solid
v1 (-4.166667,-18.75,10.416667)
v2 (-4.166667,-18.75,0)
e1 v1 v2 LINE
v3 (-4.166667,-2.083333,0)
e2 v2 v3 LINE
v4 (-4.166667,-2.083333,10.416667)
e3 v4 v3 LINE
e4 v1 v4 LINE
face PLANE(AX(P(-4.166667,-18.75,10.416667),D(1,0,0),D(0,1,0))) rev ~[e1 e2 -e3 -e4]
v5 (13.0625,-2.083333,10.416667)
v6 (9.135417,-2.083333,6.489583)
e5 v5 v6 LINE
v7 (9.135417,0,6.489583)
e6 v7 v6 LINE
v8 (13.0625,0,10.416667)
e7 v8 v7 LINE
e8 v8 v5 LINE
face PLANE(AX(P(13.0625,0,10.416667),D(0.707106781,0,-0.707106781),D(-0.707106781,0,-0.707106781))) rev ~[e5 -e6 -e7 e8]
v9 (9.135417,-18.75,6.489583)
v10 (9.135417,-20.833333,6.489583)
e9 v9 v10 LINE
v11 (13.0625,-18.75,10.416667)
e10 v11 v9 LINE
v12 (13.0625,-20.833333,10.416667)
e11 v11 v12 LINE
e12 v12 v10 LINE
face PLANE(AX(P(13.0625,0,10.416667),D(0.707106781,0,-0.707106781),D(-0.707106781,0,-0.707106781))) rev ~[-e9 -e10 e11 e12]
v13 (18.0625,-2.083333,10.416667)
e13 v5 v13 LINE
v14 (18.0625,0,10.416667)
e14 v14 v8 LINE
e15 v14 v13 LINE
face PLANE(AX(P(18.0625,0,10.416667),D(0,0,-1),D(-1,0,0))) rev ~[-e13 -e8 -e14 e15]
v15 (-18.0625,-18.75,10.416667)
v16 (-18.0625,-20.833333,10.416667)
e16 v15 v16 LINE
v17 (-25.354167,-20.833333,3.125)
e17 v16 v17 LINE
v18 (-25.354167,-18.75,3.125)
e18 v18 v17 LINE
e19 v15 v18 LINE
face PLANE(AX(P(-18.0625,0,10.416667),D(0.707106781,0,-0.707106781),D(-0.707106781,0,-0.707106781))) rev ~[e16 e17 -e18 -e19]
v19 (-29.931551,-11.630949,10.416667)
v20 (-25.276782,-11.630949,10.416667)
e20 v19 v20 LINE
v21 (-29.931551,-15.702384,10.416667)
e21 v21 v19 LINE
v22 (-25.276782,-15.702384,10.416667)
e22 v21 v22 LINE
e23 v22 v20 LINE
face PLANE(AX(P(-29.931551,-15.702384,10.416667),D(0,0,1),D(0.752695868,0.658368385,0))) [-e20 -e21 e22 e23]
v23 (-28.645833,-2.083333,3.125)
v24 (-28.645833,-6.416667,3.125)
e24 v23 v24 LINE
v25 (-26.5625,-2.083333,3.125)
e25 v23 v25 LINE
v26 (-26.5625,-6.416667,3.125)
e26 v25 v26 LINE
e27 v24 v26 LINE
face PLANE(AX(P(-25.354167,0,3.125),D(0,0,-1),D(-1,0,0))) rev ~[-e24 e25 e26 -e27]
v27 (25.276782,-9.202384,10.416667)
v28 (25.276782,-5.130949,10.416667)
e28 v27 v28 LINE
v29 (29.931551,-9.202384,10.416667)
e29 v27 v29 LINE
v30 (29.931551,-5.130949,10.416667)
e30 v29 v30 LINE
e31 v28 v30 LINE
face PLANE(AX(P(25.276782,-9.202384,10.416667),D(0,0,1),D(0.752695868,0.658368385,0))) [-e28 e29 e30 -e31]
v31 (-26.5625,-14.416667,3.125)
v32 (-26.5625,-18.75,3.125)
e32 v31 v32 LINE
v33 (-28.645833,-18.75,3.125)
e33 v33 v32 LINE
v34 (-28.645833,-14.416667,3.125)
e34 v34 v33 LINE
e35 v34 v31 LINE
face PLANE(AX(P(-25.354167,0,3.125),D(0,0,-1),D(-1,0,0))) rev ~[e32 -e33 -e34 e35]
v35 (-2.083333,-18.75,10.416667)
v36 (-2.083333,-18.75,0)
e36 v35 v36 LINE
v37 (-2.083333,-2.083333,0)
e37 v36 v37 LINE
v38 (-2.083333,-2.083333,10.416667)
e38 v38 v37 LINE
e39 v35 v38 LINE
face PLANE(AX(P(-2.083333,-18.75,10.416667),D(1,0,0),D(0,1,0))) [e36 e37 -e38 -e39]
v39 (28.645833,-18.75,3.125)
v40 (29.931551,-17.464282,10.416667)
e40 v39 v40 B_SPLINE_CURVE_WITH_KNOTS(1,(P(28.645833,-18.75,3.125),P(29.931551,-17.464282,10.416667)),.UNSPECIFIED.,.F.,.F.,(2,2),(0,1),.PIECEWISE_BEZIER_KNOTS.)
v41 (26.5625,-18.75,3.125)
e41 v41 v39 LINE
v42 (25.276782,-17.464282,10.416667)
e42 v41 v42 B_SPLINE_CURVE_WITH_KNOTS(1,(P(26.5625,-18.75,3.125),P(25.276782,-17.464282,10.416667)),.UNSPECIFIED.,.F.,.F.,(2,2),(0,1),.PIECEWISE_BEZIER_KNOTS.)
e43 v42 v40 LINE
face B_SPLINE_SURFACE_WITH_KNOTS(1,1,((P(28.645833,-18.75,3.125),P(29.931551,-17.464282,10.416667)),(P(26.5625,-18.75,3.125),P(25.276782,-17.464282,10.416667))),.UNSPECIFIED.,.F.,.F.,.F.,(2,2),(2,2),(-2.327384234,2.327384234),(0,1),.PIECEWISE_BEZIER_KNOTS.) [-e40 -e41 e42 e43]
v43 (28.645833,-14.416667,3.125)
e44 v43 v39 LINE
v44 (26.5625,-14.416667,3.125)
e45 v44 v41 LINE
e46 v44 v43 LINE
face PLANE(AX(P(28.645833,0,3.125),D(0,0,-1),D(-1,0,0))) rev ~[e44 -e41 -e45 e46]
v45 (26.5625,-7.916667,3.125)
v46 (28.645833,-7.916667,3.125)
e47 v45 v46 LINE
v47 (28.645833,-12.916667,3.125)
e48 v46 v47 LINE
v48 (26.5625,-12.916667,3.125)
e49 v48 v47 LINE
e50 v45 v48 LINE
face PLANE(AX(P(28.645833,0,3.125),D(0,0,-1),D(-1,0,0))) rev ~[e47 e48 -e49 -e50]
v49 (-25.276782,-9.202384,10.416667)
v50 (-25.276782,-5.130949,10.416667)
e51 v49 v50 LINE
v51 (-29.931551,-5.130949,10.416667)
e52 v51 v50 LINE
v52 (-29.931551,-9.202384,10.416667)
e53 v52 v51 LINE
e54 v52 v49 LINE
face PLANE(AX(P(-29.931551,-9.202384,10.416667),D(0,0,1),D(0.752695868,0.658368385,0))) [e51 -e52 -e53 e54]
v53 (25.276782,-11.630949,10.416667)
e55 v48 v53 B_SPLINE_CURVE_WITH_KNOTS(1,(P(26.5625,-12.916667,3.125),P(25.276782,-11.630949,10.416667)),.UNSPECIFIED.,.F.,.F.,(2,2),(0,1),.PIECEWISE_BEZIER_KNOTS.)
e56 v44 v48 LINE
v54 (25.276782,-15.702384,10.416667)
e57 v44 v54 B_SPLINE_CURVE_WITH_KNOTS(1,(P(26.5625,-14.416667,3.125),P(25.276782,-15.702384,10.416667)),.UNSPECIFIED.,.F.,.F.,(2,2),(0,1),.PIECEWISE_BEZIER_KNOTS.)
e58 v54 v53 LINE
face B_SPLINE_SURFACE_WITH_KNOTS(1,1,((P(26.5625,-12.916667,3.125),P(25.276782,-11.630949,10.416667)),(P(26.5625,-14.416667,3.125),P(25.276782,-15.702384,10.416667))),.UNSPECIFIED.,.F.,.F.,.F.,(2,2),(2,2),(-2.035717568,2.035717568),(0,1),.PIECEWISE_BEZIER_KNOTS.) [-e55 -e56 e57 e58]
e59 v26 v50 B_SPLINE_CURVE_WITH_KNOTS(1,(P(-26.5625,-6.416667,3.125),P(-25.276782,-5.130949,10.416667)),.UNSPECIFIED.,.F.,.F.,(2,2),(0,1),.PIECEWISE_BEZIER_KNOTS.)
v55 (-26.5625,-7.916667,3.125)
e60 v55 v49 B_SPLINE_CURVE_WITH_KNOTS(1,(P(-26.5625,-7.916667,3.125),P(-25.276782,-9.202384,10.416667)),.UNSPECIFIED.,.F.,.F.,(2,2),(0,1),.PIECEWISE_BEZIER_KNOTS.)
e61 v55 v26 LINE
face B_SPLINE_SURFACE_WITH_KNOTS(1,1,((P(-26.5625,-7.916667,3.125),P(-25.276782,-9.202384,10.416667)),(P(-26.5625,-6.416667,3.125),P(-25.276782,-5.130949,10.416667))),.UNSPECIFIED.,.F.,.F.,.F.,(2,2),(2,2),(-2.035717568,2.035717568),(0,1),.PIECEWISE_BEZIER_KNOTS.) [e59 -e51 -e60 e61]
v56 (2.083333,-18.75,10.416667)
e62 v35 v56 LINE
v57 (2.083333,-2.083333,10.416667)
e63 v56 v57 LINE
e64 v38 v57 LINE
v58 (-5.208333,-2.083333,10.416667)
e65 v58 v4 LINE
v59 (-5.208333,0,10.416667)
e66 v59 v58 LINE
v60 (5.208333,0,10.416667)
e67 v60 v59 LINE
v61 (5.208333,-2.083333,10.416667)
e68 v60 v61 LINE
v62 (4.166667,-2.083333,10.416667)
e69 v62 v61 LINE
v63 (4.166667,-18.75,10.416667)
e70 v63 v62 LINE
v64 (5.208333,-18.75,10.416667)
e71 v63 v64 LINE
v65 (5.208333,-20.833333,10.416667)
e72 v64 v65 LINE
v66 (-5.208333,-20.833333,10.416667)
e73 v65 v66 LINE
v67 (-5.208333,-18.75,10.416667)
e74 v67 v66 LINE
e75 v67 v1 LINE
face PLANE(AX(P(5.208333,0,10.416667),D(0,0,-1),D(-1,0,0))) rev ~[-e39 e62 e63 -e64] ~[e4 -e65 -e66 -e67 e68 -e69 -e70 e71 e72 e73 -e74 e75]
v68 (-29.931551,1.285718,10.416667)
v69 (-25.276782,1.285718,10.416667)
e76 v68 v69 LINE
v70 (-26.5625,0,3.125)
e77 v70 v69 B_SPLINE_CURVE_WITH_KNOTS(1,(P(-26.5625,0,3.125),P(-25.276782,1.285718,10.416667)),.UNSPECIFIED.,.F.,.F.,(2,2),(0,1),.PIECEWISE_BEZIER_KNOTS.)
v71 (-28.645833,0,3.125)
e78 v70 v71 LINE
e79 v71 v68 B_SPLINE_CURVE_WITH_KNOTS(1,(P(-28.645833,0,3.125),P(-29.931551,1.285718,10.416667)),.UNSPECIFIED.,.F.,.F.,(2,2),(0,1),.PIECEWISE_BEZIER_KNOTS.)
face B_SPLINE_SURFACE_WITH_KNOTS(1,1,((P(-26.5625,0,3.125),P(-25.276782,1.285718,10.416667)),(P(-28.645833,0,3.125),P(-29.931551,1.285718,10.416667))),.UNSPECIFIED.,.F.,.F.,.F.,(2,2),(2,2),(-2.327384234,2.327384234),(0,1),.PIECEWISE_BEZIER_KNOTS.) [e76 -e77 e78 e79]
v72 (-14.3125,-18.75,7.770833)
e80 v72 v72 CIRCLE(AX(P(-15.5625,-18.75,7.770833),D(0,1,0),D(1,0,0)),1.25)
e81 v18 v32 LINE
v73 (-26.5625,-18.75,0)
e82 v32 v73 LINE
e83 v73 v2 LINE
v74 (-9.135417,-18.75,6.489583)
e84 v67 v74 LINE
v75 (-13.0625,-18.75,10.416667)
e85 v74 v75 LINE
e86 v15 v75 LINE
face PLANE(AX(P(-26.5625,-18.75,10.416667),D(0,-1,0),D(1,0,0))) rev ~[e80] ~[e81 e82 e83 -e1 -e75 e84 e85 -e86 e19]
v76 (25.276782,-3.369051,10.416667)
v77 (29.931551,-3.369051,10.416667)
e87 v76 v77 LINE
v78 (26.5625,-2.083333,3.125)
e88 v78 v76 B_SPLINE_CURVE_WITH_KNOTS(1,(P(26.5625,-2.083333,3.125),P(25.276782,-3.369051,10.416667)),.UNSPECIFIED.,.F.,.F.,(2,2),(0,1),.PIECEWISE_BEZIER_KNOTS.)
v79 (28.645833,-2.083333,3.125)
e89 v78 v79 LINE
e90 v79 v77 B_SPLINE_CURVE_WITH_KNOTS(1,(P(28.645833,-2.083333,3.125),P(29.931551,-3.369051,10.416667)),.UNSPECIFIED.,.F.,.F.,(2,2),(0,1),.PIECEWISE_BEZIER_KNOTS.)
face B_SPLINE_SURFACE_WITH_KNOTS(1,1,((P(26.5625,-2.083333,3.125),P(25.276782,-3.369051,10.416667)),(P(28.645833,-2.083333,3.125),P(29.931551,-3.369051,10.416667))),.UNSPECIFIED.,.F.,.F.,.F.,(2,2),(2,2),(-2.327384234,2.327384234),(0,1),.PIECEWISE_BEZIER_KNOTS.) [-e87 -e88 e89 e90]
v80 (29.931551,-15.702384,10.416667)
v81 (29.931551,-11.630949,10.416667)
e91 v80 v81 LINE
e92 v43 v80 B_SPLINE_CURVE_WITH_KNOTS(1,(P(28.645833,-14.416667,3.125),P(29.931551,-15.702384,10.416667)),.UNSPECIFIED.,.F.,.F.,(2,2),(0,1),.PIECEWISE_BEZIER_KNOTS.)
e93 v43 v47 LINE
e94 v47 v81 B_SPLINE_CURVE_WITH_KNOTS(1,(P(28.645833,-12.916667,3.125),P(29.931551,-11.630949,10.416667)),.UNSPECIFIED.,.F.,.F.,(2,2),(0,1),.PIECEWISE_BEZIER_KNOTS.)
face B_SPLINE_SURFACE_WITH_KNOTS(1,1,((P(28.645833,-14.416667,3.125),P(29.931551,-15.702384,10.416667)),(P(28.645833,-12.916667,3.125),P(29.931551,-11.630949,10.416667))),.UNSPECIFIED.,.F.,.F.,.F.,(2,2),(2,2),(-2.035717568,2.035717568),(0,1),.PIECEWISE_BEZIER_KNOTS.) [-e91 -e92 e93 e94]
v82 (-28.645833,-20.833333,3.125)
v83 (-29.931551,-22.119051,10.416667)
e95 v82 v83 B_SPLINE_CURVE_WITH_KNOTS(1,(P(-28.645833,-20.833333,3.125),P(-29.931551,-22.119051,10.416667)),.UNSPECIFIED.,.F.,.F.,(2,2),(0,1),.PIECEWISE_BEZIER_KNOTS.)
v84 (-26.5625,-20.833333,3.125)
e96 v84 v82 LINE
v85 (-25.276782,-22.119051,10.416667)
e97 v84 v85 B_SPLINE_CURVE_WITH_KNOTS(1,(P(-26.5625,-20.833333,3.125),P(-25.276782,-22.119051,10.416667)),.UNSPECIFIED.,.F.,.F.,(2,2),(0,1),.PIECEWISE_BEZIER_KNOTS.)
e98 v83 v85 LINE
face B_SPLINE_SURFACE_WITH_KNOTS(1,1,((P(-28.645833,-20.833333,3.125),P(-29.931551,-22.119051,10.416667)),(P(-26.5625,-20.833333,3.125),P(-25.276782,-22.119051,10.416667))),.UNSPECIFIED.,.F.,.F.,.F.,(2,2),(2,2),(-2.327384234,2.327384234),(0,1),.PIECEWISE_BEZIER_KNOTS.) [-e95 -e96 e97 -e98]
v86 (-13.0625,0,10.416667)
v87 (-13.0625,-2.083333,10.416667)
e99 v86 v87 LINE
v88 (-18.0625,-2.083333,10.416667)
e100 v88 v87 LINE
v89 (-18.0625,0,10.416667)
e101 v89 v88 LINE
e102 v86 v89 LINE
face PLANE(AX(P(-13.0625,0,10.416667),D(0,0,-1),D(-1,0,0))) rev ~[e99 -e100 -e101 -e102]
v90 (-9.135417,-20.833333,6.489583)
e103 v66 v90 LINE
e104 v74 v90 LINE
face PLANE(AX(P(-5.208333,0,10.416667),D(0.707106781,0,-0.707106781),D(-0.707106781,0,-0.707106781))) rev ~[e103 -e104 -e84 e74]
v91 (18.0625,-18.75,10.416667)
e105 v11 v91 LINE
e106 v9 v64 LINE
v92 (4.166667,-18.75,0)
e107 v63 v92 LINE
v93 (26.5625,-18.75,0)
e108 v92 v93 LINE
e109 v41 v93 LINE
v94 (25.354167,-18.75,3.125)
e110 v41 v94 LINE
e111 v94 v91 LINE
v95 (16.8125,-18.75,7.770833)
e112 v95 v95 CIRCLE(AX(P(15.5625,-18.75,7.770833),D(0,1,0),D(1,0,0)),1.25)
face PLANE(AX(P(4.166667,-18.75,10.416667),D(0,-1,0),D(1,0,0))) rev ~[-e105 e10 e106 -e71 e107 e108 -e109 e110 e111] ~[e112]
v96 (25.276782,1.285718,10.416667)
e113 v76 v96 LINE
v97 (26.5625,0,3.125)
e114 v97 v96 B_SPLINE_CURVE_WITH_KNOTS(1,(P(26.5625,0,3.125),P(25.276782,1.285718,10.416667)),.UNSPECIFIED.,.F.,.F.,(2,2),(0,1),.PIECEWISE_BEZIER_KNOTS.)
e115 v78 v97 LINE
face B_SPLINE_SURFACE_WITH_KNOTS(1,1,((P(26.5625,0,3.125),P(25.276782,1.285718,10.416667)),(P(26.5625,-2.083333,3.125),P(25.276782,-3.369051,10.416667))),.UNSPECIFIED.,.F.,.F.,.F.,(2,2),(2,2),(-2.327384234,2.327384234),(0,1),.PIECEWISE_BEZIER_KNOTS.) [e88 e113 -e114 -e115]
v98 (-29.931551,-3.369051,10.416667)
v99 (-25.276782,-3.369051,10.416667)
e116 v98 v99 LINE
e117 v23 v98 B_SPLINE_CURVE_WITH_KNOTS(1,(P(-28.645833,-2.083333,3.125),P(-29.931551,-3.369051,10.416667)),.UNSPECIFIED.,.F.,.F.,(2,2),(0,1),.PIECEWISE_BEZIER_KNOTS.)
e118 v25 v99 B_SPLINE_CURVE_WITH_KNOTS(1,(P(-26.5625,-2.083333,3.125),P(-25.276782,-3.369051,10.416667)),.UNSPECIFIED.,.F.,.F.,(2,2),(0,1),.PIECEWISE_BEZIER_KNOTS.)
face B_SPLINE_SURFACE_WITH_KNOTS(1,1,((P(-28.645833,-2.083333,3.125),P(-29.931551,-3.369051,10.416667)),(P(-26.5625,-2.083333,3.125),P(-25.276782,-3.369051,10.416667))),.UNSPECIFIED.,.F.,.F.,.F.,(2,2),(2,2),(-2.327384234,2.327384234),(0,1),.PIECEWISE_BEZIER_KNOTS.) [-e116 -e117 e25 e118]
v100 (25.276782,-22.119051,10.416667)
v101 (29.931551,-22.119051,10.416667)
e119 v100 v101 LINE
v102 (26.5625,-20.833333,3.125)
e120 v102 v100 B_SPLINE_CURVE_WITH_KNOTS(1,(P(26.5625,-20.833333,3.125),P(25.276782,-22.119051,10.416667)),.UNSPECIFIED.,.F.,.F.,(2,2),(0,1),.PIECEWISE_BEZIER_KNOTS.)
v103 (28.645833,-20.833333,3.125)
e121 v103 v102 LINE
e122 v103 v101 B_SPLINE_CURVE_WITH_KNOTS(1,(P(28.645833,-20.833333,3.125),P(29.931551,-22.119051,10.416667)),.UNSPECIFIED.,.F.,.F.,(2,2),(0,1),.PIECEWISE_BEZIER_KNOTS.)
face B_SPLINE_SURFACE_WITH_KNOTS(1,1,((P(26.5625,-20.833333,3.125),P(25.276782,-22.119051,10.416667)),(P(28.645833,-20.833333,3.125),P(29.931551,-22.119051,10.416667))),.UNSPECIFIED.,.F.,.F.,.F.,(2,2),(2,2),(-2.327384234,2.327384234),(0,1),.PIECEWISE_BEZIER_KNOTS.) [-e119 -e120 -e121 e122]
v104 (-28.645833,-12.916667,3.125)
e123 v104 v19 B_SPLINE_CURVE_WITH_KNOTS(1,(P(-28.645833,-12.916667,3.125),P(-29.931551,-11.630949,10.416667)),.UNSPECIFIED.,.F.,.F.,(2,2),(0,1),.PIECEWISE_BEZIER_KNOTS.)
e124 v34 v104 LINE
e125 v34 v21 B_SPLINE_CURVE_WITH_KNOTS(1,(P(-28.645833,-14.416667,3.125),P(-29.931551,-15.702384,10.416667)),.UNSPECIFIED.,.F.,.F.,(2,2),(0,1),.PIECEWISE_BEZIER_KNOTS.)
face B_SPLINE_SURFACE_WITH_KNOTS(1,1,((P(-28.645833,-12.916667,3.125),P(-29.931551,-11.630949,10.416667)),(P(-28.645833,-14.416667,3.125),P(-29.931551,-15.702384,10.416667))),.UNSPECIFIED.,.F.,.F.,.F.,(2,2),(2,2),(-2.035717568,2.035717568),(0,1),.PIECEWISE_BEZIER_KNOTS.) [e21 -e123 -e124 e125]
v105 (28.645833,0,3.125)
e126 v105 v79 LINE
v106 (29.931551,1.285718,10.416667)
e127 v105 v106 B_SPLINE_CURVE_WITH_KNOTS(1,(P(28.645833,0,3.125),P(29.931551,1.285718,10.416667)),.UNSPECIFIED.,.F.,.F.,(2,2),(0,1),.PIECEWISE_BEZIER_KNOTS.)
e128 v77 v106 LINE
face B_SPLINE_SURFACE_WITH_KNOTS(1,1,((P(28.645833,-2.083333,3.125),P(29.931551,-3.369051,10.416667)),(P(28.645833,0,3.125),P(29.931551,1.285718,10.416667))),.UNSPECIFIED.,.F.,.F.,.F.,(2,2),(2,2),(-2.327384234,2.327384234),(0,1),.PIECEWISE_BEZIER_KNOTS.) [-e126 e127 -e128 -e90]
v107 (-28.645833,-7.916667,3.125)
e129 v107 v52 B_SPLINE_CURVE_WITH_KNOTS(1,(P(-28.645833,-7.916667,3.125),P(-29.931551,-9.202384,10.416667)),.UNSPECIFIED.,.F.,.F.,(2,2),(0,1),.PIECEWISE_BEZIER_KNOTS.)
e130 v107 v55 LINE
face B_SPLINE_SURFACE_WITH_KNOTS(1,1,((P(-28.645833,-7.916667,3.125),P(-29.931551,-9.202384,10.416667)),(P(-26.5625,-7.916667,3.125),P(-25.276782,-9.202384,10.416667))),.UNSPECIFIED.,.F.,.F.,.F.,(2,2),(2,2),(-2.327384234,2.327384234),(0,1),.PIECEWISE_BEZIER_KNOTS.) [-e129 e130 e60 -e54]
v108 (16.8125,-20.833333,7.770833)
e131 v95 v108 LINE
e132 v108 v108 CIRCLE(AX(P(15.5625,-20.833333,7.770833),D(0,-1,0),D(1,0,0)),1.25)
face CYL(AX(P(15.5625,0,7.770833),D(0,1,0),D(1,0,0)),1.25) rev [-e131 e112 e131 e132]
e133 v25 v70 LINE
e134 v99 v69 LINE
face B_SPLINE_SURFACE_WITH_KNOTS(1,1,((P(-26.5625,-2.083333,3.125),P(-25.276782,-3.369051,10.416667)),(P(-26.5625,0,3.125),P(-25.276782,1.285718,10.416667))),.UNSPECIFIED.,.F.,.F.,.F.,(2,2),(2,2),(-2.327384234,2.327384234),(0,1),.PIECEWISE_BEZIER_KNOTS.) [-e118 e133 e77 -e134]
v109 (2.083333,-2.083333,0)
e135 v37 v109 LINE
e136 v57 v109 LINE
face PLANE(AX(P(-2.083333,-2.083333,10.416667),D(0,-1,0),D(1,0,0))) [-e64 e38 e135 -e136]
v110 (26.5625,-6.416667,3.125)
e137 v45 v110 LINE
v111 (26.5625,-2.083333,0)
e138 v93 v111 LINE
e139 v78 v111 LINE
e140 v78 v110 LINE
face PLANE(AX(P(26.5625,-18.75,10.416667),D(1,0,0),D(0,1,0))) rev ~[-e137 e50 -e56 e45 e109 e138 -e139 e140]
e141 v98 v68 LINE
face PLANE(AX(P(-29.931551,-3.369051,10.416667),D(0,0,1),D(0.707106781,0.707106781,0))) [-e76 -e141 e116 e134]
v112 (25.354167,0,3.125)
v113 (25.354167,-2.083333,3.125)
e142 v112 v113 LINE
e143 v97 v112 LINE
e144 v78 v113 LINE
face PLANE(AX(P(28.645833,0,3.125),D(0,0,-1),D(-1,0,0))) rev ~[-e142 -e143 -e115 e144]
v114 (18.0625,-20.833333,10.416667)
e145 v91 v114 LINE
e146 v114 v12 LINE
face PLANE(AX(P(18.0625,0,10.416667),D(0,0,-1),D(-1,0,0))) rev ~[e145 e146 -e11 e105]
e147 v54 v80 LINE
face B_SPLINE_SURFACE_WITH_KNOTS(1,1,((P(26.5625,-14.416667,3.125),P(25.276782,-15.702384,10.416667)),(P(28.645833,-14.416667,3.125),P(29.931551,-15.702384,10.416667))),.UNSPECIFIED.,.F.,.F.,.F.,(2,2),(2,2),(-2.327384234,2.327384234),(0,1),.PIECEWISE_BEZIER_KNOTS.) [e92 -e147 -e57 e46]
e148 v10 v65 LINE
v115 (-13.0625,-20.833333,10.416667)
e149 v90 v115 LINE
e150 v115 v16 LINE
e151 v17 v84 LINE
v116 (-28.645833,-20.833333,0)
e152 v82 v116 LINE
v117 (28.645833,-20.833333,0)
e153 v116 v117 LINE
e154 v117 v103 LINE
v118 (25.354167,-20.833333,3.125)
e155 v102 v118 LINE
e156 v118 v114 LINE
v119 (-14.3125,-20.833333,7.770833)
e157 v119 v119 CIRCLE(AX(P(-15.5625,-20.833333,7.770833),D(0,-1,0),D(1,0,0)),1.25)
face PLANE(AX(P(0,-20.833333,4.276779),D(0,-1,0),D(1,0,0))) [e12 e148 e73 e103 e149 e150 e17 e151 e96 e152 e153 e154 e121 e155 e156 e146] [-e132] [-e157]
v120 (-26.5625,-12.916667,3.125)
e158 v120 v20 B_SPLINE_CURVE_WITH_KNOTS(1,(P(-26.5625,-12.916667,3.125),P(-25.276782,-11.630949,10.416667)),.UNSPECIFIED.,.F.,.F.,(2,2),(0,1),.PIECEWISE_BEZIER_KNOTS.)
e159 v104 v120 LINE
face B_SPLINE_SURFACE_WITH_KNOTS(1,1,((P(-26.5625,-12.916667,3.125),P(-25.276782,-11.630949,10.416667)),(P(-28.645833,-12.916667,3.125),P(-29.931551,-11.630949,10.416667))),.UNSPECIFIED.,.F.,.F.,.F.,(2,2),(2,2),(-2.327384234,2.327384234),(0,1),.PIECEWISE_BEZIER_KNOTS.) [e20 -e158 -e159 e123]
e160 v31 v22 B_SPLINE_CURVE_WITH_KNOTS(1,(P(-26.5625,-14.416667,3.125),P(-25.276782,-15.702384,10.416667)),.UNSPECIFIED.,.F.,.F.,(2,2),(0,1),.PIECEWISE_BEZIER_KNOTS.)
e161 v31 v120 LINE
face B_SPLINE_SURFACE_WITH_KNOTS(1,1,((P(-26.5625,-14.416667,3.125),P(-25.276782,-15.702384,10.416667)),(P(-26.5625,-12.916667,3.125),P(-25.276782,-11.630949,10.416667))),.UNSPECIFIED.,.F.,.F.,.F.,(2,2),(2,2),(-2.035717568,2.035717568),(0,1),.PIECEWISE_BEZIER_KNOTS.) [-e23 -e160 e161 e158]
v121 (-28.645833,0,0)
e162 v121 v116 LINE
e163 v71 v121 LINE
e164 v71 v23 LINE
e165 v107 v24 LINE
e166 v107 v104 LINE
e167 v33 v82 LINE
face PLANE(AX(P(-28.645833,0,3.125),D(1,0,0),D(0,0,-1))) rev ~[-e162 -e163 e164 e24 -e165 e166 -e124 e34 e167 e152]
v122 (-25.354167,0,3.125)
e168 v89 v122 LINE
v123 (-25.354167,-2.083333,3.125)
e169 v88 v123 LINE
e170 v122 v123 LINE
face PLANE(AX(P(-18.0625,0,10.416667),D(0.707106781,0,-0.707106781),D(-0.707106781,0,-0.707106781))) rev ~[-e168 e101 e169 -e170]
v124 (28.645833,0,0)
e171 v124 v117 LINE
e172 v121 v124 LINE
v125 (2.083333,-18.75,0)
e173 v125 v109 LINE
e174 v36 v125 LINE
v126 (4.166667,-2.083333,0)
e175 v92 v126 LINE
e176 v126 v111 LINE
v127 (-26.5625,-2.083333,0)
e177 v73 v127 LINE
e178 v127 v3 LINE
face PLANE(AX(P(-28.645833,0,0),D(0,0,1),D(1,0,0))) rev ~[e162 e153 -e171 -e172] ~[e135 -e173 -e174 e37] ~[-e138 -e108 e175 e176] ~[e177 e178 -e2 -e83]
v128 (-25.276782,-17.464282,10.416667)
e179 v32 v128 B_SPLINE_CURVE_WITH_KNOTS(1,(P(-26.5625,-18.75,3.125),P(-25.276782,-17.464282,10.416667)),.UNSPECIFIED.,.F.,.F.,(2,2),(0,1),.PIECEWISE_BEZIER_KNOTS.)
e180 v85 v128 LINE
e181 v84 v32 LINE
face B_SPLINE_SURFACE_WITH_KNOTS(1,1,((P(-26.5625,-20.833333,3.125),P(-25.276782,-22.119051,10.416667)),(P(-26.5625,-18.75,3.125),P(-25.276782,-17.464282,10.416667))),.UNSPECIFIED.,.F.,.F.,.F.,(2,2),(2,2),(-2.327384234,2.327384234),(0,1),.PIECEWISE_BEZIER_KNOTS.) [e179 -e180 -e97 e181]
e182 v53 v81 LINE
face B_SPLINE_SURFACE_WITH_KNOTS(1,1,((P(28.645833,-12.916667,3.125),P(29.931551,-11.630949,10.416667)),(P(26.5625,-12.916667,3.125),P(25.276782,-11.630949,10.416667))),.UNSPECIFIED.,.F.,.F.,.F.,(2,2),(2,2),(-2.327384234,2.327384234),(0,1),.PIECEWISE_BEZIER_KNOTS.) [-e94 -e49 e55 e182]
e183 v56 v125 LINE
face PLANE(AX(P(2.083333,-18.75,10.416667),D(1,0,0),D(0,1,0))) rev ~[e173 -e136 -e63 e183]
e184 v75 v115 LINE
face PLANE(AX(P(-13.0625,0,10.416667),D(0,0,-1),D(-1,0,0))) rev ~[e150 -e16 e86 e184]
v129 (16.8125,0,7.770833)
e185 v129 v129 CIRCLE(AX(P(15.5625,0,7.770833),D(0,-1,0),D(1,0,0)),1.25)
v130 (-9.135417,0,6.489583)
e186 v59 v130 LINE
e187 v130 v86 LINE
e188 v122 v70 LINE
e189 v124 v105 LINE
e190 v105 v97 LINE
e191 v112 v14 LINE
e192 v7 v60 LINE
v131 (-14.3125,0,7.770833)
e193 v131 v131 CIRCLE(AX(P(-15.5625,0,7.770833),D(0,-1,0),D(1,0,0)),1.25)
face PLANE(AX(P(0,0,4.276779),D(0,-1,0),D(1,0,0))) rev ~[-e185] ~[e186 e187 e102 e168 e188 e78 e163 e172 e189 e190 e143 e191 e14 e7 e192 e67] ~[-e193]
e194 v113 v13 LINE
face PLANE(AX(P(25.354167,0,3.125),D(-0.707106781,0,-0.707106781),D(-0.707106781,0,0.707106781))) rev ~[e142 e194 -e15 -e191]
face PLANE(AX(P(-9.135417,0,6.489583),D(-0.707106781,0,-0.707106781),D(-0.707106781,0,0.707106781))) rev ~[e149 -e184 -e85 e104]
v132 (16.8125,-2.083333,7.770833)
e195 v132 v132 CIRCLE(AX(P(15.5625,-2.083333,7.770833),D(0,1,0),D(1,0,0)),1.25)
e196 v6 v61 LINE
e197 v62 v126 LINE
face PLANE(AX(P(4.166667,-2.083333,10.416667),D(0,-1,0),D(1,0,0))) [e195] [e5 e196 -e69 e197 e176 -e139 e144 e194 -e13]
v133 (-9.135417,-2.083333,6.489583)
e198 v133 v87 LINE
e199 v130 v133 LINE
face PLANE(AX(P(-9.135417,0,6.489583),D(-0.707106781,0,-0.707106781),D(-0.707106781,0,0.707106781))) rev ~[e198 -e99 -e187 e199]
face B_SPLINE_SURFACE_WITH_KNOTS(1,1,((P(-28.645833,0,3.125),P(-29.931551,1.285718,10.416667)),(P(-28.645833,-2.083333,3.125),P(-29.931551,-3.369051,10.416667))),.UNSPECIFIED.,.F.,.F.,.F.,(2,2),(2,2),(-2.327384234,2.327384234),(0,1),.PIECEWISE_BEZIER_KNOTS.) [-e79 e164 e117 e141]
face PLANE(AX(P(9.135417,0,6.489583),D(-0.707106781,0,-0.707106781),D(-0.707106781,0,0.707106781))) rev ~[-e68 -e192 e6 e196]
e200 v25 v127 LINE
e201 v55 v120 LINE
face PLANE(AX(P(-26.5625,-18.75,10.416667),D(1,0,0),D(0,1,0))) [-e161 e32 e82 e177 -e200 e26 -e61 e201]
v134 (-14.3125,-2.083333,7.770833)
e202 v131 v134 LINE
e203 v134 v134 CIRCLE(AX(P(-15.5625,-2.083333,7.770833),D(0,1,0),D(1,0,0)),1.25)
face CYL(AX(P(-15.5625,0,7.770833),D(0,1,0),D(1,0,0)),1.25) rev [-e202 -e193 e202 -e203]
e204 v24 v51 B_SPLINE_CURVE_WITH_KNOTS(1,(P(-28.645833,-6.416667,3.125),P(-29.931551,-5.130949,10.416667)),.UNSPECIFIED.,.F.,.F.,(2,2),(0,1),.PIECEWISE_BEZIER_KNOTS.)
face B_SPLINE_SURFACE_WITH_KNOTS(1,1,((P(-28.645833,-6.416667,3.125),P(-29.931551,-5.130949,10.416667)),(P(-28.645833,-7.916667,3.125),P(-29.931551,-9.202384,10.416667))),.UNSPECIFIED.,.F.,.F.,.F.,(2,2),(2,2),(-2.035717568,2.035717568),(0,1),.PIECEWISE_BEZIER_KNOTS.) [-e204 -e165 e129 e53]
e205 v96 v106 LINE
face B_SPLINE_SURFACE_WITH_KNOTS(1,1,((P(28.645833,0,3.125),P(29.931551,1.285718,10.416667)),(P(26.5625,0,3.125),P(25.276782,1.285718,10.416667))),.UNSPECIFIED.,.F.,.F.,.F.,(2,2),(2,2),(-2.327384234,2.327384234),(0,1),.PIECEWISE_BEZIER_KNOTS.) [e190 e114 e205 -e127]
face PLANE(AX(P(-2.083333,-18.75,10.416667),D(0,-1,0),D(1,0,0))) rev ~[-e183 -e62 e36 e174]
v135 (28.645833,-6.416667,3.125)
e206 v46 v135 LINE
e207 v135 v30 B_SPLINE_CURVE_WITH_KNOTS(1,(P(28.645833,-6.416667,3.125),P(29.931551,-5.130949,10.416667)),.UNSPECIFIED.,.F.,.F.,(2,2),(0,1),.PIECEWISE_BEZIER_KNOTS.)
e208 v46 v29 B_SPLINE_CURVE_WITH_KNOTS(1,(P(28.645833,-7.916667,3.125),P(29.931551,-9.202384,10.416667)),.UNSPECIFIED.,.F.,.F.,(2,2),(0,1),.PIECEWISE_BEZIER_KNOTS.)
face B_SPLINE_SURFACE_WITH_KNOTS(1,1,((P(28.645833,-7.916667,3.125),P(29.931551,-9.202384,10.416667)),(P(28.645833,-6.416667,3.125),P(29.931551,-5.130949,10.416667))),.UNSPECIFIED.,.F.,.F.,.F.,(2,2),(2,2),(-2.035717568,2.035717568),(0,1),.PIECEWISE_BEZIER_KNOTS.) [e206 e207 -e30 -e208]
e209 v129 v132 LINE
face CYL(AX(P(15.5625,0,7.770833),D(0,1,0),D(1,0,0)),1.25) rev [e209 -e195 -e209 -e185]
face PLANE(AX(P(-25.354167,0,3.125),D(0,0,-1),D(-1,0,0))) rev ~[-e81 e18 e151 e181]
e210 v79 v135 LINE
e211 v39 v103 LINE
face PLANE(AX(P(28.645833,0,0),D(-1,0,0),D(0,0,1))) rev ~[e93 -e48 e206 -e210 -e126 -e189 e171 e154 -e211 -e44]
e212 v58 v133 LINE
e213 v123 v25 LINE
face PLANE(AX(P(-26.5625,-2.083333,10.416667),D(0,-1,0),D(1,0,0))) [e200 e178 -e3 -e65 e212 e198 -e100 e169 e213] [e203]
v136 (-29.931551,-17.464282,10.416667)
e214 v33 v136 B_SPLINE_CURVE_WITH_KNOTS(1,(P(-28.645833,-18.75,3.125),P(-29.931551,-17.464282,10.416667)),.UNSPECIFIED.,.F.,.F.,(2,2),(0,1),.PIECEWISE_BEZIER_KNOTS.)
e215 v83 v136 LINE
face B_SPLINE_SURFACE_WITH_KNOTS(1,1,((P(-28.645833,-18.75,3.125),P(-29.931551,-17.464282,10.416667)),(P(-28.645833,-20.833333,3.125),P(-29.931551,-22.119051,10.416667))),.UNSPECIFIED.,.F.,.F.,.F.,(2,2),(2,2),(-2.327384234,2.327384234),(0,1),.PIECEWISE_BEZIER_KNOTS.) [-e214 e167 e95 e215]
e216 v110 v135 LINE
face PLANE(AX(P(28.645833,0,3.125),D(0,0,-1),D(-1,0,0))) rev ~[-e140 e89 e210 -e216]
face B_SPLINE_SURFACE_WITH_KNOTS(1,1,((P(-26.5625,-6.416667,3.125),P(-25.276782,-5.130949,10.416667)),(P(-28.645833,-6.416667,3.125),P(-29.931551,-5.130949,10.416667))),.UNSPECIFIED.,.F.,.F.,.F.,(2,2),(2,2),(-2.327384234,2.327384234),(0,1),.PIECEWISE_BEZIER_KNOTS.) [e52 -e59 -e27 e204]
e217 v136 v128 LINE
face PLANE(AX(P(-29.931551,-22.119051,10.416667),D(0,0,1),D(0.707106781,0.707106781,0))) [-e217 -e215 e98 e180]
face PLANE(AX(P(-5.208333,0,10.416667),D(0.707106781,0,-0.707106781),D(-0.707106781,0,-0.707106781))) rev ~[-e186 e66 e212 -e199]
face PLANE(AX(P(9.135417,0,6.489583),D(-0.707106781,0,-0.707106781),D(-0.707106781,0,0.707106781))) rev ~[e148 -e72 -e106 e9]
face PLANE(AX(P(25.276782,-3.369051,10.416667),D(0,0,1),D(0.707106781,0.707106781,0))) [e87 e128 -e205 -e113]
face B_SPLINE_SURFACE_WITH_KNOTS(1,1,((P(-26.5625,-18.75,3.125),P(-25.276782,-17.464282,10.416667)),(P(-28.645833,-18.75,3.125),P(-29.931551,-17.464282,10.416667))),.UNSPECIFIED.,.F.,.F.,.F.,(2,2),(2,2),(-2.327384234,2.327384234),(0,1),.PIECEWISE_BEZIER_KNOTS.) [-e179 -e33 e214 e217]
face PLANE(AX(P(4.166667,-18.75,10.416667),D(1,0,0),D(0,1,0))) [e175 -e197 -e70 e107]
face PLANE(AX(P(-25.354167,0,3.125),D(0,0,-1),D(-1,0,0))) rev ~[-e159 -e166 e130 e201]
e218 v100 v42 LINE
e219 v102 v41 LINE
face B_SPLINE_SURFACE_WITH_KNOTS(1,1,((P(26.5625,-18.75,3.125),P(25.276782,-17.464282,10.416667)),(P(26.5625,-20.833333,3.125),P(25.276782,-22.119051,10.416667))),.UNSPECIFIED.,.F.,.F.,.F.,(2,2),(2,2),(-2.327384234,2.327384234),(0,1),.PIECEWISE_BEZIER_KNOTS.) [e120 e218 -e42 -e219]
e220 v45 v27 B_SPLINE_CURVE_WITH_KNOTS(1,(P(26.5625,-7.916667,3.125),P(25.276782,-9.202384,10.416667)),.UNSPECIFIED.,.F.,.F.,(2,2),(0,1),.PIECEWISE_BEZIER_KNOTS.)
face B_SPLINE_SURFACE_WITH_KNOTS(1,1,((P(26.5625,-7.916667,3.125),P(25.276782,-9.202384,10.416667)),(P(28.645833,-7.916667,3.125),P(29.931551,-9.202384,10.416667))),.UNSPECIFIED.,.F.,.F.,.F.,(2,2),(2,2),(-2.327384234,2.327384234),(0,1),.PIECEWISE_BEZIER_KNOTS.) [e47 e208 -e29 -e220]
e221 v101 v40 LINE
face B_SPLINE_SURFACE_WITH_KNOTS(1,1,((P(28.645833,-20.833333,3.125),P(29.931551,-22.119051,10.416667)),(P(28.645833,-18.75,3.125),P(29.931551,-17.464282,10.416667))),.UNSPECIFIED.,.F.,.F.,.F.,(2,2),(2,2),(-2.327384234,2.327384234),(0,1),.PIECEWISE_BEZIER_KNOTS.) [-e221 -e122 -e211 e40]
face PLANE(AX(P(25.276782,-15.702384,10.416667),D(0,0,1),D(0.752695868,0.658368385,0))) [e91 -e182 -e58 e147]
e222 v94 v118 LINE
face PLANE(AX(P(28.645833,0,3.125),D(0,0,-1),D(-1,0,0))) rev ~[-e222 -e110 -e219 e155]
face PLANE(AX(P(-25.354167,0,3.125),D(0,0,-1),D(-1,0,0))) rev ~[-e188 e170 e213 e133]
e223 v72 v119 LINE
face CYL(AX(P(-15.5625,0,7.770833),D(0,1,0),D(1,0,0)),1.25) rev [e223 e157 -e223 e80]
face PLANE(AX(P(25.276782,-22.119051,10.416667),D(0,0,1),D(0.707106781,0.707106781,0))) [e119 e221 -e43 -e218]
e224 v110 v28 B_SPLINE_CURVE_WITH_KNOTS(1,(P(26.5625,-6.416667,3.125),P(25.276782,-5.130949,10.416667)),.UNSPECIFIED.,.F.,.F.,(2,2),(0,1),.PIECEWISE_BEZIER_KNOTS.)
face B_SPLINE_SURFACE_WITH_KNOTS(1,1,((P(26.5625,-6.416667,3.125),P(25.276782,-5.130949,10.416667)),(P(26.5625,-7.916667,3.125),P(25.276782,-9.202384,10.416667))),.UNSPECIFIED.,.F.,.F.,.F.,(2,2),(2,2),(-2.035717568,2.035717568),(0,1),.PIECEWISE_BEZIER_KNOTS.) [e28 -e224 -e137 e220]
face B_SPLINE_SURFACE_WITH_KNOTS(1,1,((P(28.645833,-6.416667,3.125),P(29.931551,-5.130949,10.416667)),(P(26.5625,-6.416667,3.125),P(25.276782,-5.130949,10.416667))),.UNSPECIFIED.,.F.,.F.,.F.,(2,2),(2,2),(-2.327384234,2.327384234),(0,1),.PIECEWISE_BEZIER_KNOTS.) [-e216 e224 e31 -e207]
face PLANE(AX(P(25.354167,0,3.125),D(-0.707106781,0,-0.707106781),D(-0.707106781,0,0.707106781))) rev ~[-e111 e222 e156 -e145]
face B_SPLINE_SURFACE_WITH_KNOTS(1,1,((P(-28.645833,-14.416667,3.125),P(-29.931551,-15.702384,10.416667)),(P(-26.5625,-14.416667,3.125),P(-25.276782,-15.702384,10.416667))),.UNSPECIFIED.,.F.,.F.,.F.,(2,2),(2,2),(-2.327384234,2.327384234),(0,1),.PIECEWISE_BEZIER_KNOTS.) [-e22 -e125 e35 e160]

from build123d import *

# Parameters (mm, degrees)
F0_R     = 1.25
F1_DEPTH = 20.8333333333
F2_W     = 22.3958333333
F2_H     = 16.6666666667
F2_W_2   = 4.1666666667
F3_DEPTH = 10.4176666667
F5_W     = 2.0833333333
F5_H     = 2.0833333333
F5_H_2   = 1.5
F6_DEPTH = 7.2916666667
F6_TAPER = -10


with BuildPart() as f1:
    # F0 (on Front) → F1 (new body)
    with BuildSketch(Plane.XZ):
        Polygon((-28.6458333333, 0), (0, 0), (28.6458333333, 0), (28.6458333333, 3.125), (25.3541666667, 3.125), (18.0625, 10.4166666667), (13.0625, 10.4166666667), (9.1354166667, 6.4895833333), (5.2083333333, 10.4166666667), (0, 10.4166666667), (-5.2083333333, 10.4166666667), (-9.1354166667, 6.4895833333), (-13.0625, 10.4166666667), (-18.0625, 10.4166666667), (-25.3541666667, 3.125), (-28.6458333333, 3.125), align=None)
        with Locations((-15.5625, 7.7708333333)):
            Circle(F0_R, mode=Mode.SUBTRACT)
        with Locations((15.5625, 7.7708333333)):
            Circle(F0_R, mode=Mode.SUBTRACT)
    extrude(amount=F1_DEPTH)

    # F2 (on face) → F3 (cut, through all)
    with BuildSketch(Plane.XY.offset(10.4166666667)):
        with Locations((-15.3645833333, -10.4166666667)):
            Rectangle(F2_W, F2_H)
        with Locations((15.3645833333, -10.4166666667)):
            Rectangle(F2_W, F2_H)
        with Locations((0, -10.4166666667)):
            Rectangle(F2_W_2, F2_H)
    extrude(amount=-F3_DEPTH, mode=Mode.SUBTRACT)

    # F5 (on offset) → F6 (join, through all)
    with BuildSketch(Plane.XY.offset(3.125)):
        with Locations((-27.6041666667, -1.0416666667)):
            Rectangle(F5_W, F5_H)
        with Locations((-27.6041666667, -19.7916666667)):
            Rectangle(F5_W, F5_H)
        with Locations((27.6041666667, -1.0416666667)):
            Rectangle(F5_W, F5_H)
        with Locations((27.6041666667, -19.7916666667)):
            Rectangle(F5_W, F5_H)
        with Locations((27.6041666667, -7.1666666667)):
            Rectangle(F5_W, F5_H_2)
        with Locations((27.6041666667, -13.6666666667)):
            Rectangle(F5_W, F5_H_2)
        with Locations((-27.6041666667, -7.1666666667)):
            Rectangle(F5_W, F5_H_2)
        with Locations((-27.6041666667, -13.6666666667)):
            Rectangle(F5_W, F5_H_2)
    extrude(amount=F6_DEPTH, taper=F6_TAPER)


solid = f1.part
